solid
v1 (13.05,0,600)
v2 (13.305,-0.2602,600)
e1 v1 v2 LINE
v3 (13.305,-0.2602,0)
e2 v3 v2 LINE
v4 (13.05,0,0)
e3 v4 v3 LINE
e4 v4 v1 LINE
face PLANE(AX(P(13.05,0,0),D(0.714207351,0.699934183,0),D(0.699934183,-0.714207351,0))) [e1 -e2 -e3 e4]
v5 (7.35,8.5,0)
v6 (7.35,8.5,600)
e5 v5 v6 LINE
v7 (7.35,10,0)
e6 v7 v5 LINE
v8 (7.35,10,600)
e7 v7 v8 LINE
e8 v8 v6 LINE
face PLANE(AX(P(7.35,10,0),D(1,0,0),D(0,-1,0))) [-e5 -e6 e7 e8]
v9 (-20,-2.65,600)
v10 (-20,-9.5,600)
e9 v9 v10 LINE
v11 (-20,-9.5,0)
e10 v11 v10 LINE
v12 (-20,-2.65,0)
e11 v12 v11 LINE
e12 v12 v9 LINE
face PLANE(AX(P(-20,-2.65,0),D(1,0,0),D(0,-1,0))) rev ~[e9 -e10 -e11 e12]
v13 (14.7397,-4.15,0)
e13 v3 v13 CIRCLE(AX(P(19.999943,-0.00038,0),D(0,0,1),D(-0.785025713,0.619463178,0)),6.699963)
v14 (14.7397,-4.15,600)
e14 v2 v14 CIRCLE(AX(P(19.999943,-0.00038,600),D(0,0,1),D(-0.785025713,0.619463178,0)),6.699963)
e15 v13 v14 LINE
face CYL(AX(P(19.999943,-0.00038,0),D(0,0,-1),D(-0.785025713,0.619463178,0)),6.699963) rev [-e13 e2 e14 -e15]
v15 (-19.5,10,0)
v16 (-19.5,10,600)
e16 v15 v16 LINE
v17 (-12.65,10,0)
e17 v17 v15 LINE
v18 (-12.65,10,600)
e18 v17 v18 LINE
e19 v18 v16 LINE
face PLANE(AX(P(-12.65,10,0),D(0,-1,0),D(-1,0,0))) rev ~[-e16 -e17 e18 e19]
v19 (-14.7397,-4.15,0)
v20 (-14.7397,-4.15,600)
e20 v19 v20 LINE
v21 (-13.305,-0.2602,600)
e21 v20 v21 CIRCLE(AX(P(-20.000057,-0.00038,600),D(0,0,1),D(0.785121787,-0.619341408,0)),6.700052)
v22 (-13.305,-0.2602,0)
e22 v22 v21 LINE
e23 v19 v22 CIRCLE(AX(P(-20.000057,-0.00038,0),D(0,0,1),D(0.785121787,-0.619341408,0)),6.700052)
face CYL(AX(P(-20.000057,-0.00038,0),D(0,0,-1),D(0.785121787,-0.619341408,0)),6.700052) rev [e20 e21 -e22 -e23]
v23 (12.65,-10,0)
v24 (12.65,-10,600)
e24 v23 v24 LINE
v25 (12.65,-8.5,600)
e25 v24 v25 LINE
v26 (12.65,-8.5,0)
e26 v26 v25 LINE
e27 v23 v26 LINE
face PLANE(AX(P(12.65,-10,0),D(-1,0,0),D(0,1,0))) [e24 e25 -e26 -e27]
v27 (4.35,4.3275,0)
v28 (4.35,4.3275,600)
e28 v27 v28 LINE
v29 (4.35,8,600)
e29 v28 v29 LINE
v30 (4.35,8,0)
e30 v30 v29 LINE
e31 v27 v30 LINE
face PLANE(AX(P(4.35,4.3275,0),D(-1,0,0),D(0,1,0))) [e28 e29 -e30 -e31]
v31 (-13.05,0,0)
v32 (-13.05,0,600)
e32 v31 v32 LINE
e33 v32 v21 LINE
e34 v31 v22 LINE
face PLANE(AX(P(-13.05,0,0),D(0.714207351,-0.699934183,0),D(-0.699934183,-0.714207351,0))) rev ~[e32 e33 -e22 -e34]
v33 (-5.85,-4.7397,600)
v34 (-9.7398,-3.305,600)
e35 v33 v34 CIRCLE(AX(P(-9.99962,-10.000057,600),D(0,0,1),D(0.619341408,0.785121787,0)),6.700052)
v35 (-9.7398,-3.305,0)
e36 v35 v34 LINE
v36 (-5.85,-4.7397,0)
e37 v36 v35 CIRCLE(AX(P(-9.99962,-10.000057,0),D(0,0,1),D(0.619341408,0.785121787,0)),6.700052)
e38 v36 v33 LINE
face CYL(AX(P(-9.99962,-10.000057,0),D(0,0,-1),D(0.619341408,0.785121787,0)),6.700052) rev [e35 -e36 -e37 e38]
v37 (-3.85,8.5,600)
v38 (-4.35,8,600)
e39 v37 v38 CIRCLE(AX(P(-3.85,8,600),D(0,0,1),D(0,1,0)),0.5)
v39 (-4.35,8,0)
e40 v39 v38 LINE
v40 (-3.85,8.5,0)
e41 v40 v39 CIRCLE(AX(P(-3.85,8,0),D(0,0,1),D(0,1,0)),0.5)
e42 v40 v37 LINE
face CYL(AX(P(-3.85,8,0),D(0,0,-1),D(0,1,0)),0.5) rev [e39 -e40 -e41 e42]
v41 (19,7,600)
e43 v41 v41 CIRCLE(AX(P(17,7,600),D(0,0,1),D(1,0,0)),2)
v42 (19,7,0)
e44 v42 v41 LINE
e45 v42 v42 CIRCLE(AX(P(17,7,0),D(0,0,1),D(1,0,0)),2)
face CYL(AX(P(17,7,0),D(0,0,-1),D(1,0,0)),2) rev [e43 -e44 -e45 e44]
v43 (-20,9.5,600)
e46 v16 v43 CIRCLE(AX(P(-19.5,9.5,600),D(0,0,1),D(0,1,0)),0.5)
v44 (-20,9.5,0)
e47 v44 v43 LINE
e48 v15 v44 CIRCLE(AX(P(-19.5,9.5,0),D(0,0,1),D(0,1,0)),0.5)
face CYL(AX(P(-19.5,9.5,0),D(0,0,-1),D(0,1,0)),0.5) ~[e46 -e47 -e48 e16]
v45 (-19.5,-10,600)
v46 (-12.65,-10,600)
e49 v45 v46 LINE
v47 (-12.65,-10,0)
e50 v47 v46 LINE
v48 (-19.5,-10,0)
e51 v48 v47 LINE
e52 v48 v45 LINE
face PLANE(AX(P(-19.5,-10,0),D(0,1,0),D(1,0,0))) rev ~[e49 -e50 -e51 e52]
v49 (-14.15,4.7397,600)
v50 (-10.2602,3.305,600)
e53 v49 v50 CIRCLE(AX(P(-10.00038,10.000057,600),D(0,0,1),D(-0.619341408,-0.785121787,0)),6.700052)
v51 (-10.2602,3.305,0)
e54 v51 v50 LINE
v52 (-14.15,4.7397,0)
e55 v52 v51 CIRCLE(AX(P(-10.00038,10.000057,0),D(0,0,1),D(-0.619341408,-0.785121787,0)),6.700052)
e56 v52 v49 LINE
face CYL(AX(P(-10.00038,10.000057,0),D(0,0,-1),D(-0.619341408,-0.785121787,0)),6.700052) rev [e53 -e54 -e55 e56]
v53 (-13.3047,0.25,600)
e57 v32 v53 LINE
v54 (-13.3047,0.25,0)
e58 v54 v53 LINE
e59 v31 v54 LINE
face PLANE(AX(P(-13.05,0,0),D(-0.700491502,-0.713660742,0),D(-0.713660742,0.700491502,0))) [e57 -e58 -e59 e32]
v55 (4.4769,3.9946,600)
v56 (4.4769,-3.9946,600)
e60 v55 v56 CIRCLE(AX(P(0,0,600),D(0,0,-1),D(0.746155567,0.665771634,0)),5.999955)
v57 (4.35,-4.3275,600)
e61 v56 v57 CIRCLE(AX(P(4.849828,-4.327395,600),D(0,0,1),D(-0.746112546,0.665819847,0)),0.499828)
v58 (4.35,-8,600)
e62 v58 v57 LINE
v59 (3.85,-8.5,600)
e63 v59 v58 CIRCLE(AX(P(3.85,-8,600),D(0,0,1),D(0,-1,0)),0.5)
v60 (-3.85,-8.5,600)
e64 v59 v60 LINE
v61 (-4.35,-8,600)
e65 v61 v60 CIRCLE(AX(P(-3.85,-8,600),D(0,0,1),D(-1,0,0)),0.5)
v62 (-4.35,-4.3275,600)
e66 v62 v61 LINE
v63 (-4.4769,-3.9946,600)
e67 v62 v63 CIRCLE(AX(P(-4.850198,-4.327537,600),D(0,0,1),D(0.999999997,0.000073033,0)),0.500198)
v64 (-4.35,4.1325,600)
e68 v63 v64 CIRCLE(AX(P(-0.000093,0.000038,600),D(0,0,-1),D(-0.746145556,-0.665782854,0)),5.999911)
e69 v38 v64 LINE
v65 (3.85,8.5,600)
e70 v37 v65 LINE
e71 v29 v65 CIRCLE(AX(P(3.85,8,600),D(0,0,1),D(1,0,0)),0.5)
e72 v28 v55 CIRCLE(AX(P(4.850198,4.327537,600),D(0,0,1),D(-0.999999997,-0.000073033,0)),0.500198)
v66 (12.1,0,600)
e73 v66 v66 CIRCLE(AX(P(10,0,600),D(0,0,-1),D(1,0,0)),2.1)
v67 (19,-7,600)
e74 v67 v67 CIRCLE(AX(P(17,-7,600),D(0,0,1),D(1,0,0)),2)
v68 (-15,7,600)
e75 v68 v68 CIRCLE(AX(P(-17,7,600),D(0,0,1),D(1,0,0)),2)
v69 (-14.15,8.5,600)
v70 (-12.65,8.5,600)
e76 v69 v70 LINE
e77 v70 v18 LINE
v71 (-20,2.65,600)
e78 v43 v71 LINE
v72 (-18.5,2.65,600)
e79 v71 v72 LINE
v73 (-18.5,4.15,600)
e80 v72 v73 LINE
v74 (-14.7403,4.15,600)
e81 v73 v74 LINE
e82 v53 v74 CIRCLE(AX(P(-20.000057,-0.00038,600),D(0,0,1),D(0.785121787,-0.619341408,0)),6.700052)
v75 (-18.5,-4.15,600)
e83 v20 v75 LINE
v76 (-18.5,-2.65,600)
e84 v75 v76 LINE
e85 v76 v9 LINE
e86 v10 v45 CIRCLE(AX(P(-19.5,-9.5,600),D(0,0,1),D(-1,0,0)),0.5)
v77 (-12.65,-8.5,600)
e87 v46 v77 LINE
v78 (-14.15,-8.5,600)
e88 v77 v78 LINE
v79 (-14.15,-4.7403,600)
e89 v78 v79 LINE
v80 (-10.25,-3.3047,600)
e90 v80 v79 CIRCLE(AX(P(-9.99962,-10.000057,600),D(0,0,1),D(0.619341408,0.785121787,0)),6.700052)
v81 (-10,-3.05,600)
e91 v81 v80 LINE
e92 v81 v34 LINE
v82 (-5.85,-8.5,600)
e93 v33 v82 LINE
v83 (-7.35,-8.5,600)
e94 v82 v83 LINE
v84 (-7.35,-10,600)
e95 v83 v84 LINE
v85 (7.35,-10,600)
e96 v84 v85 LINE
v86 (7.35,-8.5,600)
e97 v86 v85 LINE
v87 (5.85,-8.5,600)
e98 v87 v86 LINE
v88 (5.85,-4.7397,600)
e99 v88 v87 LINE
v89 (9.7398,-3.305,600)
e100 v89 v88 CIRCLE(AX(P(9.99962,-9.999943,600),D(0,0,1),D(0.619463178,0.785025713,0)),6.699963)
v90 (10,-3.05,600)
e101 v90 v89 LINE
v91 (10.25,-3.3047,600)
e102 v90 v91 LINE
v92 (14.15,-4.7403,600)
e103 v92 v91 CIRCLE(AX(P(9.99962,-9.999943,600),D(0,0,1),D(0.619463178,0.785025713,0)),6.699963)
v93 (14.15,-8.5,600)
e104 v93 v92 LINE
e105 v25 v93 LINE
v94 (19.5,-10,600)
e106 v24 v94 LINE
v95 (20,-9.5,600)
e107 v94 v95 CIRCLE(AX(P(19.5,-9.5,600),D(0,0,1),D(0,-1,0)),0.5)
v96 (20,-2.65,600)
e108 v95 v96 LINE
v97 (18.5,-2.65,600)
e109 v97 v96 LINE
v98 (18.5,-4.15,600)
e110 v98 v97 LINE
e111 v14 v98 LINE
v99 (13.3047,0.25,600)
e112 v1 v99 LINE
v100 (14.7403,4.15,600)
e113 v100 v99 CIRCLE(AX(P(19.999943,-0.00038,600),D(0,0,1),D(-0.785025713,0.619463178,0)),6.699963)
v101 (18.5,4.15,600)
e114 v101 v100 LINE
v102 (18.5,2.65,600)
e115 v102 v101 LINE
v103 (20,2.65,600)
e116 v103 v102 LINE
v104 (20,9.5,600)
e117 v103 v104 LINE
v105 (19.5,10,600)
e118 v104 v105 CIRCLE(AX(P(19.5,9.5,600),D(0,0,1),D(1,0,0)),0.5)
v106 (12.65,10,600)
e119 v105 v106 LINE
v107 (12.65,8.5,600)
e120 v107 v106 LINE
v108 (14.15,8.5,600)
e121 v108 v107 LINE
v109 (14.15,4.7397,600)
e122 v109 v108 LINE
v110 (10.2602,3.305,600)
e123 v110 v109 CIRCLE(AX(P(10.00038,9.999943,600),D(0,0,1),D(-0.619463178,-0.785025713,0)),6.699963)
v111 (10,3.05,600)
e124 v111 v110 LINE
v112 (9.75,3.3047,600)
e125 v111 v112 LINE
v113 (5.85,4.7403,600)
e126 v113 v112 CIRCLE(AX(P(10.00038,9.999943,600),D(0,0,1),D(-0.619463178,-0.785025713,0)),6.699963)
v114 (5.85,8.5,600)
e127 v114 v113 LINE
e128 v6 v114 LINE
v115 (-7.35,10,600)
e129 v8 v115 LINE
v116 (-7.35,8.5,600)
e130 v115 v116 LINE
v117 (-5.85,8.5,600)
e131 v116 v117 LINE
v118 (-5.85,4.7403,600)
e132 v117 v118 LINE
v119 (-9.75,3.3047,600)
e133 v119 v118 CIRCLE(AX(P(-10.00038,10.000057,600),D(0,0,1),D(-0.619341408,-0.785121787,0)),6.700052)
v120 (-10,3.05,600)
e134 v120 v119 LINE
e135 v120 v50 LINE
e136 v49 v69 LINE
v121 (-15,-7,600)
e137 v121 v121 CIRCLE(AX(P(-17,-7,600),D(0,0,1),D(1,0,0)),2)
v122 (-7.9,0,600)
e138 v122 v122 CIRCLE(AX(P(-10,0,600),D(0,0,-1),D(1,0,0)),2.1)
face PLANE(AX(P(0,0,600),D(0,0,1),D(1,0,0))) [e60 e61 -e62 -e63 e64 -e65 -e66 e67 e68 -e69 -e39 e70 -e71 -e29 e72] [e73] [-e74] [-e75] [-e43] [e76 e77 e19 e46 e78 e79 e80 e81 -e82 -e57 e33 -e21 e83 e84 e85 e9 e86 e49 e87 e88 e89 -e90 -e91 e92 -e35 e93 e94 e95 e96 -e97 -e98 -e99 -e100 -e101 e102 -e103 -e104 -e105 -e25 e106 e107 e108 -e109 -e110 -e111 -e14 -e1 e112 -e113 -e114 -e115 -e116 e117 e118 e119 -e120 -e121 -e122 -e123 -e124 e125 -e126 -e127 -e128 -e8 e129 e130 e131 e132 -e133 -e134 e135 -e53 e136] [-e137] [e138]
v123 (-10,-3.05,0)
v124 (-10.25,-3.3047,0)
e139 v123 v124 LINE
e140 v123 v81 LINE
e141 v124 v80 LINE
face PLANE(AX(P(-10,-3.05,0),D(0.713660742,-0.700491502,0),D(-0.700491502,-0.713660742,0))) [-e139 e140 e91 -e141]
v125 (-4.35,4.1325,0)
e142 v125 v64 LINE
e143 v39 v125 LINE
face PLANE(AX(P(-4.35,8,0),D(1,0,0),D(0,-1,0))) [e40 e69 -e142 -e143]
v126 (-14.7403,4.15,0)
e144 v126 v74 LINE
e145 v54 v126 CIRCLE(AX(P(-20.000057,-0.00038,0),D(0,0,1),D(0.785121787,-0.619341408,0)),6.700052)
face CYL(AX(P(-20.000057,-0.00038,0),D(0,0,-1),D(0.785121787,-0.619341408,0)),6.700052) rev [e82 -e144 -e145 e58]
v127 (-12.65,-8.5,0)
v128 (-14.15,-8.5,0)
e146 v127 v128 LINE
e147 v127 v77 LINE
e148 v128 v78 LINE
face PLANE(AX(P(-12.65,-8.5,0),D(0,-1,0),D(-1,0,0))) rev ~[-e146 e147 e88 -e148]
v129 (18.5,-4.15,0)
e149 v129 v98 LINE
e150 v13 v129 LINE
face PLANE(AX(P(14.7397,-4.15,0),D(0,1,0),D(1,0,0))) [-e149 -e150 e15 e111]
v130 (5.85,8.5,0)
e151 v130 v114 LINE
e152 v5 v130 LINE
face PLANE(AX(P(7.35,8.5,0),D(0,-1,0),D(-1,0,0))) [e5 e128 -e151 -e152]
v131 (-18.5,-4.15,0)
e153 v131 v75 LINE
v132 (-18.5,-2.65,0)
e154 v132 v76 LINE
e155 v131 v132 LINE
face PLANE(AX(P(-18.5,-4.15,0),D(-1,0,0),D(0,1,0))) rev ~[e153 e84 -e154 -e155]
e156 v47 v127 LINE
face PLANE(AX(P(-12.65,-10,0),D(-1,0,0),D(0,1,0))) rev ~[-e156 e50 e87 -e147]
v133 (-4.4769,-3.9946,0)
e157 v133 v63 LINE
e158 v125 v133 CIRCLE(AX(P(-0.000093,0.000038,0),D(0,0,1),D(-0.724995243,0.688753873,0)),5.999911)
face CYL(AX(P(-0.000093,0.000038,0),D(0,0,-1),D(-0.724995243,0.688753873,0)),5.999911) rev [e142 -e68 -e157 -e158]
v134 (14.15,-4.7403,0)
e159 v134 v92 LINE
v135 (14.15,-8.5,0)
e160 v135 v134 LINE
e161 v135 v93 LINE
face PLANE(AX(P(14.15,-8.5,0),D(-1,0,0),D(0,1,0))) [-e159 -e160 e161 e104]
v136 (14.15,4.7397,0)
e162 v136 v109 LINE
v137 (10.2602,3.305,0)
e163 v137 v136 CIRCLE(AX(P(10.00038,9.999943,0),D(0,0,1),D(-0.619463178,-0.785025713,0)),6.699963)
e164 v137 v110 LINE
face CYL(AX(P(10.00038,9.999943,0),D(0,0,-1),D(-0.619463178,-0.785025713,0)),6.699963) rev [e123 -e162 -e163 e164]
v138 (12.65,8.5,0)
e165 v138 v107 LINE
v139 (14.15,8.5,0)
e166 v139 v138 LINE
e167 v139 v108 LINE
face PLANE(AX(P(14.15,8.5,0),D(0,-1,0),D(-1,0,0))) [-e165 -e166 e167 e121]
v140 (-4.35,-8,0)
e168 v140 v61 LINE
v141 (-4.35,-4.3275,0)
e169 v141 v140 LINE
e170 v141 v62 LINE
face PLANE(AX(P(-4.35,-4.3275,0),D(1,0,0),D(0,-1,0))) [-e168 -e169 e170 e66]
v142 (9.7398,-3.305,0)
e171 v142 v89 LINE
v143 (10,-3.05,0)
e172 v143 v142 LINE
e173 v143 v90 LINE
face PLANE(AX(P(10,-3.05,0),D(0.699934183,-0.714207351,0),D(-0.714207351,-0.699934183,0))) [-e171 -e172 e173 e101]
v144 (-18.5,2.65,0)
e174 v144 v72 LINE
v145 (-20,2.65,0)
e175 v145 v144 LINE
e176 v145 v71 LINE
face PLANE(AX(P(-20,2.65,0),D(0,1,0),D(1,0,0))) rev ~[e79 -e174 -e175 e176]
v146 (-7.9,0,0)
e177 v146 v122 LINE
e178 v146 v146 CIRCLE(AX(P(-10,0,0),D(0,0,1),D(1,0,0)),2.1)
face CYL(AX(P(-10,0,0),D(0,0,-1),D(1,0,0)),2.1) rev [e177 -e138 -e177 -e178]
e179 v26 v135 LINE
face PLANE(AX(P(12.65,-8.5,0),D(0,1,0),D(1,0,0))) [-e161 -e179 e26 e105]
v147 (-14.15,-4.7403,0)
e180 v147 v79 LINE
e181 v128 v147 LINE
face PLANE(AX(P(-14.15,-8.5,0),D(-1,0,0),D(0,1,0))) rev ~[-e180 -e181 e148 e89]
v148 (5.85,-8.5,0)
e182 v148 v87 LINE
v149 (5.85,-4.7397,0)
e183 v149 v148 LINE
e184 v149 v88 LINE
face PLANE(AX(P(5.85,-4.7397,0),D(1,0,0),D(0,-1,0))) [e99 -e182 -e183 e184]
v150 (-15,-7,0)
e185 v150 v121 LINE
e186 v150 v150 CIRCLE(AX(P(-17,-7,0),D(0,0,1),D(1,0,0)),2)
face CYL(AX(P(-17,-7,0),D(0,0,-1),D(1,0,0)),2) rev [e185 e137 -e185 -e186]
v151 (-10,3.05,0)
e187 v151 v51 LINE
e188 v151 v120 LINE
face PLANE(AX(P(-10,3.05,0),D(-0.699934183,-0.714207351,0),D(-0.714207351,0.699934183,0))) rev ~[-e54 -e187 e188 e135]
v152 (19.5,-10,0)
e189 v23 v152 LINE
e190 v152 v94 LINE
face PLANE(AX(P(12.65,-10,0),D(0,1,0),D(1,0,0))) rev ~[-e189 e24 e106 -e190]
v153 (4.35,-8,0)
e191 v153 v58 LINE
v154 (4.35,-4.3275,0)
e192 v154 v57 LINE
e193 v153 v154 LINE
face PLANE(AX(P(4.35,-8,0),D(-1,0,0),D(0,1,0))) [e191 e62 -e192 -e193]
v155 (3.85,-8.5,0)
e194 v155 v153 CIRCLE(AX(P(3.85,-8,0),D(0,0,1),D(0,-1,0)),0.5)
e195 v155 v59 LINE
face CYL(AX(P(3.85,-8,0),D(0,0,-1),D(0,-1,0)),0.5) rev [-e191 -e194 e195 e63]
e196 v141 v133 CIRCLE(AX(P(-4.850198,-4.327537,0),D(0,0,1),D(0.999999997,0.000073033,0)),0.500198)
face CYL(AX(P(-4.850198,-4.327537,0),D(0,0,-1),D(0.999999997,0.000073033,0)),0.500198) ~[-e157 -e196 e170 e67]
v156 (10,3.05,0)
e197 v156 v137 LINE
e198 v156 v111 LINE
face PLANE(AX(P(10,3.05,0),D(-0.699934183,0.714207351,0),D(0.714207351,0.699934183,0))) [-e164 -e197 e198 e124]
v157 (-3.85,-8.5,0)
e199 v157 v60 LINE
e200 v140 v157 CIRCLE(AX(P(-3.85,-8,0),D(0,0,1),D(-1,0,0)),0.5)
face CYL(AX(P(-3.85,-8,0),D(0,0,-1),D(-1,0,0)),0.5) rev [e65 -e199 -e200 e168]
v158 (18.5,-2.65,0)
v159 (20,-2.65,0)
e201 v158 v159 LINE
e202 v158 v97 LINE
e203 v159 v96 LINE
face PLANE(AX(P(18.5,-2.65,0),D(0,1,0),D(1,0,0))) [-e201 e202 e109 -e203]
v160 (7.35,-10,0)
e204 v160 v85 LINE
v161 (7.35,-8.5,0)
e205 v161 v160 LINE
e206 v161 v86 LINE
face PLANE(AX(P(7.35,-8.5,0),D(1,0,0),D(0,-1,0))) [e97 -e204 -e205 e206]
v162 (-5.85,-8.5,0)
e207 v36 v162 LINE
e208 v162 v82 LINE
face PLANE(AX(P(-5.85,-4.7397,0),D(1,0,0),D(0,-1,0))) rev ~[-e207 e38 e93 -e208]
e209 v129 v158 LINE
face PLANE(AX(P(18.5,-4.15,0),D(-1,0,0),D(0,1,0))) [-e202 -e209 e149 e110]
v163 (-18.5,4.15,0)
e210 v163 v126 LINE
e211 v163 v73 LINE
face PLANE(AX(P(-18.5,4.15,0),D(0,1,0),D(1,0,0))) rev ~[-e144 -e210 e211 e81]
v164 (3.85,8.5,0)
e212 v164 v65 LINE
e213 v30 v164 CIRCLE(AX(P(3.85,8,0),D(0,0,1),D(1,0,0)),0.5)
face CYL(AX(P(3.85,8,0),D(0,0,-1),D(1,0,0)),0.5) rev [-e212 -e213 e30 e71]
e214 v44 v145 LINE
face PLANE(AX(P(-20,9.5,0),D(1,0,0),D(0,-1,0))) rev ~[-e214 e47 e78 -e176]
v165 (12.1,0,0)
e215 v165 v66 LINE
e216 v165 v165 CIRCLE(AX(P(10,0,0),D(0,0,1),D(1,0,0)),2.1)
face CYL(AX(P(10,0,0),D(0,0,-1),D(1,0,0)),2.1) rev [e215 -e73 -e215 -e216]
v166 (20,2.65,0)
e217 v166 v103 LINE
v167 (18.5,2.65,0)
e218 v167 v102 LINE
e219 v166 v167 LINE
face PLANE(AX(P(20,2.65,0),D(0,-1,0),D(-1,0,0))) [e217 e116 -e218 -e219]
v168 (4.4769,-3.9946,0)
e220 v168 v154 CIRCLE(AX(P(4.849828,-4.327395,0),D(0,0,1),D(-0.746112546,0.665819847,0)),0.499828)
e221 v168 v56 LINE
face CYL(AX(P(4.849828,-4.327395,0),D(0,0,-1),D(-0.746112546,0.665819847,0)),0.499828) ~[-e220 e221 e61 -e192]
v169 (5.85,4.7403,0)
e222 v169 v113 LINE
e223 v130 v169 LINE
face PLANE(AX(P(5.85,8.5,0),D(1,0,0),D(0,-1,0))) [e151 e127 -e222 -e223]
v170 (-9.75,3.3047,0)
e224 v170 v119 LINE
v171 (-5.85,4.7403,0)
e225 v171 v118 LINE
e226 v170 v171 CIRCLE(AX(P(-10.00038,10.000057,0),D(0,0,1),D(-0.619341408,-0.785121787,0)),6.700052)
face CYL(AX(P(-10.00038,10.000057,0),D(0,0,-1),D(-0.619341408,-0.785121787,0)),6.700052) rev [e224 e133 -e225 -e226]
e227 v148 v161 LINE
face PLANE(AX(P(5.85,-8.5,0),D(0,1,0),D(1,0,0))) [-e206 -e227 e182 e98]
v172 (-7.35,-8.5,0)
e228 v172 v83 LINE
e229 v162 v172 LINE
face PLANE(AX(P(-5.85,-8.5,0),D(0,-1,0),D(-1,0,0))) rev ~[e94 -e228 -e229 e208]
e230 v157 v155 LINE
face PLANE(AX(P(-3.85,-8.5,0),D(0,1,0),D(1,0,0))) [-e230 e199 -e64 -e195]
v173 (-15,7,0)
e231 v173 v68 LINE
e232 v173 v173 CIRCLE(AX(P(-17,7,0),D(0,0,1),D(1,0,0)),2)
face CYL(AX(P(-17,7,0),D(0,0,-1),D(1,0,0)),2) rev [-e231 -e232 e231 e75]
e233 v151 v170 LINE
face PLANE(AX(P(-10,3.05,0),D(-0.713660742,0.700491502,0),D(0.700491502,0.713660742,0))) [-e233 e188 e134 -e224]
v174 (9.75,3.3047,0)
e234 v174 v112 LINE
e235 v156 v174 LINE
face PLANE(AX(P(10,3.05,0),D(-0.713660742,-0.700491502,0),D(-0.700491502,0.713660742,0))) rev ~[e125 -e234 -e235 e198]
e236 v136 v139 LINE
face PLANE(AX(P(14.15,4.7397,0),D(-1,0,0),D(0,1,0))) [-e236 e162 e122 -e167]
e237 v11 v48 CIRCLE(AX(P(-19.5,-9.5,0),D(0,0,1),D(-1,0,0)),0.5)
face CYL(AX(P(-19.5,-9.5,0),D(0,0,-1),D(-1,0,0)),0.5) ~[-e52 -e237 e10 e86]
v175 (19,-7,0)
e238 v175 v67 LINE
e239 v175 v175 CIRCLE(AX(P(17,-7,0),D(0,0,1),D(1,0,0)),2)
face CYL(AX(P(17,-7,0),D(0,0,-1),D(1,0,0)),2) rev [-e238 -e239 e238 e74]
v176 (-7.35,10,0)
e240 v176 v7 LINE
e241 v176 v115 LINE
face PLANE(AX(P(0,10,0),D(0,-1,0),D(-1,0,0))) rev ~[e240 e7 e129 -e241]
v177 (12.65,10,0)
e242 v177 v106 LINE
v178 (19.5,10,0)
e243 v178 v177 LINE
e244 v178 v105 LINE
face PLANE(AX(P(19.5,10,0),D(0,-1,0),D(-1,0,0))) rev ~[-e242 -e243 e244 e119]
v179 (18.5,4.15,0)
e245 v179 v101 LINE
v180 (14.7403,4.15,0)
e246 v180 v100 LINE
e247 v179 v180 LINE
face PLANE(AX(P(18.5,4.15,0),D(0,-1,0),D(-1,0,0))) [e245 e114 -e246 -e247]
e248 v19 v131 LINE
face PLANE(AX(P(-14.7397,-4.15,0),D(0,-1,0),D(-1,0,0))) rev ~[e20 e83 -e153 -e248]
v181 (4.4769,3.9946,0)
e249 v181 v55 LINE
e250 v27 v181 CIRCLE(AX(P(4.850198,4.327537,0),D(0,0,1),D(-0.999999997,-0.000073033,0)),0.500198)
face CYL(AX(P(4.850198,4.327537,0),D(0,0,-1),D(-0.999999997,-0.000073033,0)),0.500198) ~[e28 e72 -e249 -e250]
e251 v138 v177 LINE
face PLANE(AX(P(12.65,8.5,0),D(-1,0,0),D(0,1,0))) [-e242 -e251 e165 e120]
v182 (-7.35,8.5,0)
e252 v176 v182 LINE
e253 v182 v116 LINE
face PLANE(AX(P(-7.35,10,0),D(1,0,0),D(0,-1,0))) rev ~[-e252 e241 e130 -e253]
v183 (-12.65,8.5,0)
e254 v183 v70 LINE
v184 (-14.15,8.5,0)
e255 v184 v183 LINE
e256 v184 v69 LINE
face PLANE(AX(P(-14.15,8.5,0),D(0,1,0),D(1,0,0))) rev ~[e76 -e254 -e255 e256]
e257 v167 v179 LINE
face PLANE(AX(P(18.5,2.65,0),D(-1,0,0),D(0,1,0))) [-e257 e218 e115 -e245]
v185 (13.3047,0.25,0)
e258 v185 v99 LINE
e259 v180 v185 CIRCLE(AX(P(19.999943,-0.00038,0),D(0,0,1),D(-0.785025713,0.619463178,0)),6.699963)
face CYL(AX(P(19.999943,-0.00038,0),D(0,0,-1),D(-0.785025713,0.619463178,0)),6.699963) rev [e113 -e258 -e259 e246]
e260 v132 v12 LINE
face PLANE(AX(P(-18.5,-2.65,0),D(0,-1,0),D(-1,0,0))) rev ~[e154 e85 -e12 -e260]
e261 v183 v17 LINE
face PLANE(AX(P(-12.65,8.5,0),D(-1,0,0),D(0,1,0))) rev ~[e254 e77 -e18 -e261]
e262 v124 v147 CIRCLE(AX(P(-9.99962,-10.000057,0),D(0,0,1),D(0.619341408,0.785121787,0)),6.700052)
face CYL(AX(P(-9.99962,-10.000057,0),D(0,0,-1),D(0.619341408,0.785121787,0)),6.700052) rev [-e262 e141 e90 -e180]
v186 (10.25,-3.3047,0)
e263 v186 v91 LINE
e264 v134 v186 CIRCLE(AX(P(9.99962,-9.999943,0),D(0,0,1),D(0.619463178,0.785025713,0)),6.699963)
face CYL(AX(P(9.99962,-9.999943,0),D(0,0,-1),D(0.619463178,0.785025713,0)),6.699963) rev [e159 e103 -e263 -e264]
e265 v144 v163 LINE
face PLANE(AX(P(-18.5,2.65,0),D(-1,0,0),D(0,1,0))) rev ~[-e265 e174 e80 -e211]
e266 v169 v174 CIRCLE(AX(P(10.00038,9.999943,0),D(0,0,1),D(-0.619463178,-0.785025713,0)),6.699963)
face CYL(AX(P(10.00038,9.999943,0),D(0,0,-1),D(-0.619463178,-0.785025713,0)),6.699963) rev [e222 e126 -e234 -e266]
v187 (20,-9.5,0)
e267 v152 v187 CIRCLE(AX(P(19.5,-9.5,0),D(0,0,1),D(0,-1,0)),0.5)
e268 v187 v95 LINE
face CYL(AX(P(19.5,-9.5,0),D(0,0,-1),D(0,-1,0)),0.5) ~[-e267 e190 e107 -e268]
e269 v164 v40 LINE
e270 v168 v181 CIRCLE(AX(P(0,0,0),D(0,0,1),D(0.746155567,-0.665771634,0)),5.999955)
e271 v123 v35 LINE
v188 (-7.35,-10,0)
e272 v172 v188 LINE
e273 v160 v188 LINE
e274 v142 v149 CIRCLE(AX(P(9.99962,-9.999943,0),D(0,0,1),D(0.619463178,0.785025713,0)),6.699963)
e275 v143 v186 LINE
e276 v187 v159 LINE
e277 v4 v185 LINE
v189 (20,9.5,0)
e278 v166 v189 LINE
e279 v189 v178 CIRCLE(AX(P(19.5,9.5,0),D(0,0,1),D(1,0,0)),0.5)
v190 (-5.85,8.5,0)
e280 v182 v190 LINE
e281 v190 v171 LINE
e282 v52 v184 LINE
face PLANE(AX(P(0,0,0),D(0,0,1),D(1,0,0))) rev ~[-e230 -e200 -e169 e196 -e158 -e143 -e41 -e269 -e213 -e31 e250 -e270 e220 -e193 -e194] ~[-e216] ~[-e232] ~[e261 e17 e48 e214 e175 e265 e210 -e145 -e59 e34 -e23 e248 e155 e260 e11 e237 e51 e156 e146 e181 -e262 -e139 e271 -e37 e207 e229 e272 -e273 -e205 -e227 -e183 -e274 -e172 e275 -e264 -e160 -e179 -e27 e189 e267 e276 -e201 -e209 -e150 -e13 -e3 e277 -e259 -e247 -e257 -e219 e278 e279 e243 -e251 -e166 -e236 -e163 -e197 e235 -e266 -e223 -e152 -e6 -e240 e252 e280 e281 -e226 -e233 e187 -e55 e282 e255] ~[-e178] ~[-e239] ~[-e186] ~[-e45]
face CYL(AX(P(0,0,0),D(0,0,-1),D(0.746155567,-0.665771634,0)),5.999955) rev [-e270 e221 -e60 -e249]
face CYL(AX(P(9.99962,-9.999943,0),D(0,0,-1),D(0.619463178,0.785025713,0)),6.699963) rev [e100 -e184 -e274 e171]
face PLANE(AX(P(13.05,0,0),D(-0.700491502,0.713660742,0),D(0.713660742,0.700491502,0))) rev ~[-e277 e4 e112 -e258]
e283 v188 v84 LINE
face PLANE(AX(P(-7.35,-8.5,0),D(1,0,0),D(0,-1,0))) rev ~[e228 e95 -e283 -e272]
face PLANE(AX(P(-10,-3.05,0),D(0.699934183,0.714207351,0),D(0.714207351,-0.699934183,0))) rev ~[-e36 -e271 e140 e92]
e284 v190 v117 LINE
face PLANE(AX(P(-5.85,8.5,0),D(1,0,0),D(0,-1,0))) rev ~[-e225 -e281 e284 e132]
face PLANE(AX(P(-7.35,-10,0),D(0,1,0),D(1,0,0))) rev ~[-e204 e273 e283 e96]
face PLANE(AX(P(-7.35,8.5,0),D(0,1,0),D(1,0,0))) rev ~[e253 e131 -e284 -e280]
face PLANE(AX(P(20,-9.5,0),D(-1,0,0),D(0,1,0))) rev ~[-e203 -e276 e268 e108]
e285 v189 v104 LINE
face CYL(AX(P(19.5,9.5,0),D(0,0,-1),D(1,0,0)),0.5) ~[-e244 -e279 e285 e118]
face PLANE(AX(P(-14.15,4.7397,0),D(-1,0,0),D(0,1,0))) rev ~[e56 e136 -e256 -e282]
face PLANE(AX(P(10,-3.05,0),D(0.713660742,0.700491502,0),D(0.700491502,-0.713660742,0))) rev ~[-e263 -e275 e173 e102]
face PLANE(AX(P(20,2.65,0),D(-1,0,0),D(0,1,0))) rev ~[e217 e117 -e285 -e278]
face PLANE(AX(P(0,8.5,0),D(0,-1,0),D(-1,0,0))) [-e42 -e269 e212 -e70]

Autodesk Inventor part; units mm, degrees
ref_plane "YZ Plane" through (0, 0, 0) normal (1, 0, 0) x (0, 1, 0)
ref_plane "XZ Plane" through (0, 0, 0) normal (0, 1, 0) x (-1, 0, 0)
ref_plane "XY Plane" through (0, 0, 0) normal (0, 0, 1) x (1, 0, 0)
sketch "스케치1" plane through (0, 0, 0) normal (0, 0, 1) x (1, 0, 0)
  line L0 (-19.5, -10) -> (19.5, -10)
  line L1 (20, -9.5) -> (20, 9.5)
  line L2 (19.5, 10) -> (-19.5, 10)
  line L3 (-20, 9.5) -> (-20, -9.5)
  circle A0 centre (-17, 7) radius 2
  line L4 (0, -12.143) -> (0, 11.1651)
  line L5 (28.9925, 0) -> (-24.8769, 0)
  circle A1 centre (-10, 0) radius 2.1
  line L6 (-10, 12.7543) -> (-10, -12.5913)
  line L7 (10, -12.5913) -> (10, 12.7543)
  circle A2 centre (10, 0) radius 2.1
  line L8 (-12.65, -10) -> (-12.65, -8.5)
  line L9 (-12.65, -8.5) -> (-14.15, -8.5)
  line L10 (-14.15, -8.5) -> (-14.15, -4.7403)
  line L11 (-5.85, -4.7397) -> (-5.85, -8.5)
  line L12 (-5.85, -8.5) -> (-7.35, -8.5)
  line L13 (-7.35, -8.5) -> (-7.35, -10)
  arc A3 (-5.85, -4.7397) -> (-14.15, -4.7403) centre (-9.9996, -10) ccw
  line L14 (-10, -3.05) -> (-10.25, -3.3047)
  line L15 (-10, -3.05) -> (-9.7398, -3.305)
  line L16 (12.65, -10) -> (12.65, -8.5)
  line L17 (12.65, -8.5) -> (14.15, -8.5)
  line L18 (14.15, -8.5) -> (14.15, -4.7403)
  line L19 (5.85, -4.7397) -> (5.85, -8.5)
  line L20 (5.85, -8.5) -> (7.35, -8.5)
  line L21 (7.35, -8.5) -> (7.35, -10)
  arc A4 (14.15, -4.7403) -> (5.85, -4.7397) centre (9.9996, -10) ccw
  line L22 (10, -3.05) -> (10.25, -3.3047)
  line L23 (10, -3.05) -> (9.7398, -3.305)
  line L24 (-20, 2.65) -> (-18.5, 2.65)
  line L25 (-18.5, 2.65) -> (-18.5, 4.15)
  line L26 (-18.5, 4.15) -> (-14.7403, 4.15)
  line L27 (-14.7397, -4.15) -> (-18.5, -4.15)
  line L28 (-18.5, -4.15) -> (-18.5, -2.65)
  line L29 (-18.5, -2.65) -> (-20, -2.65)
  line L30 (-13.05, 0) -> (-13.305, -0.2602)
  line L31 (-13.05, 0) -> (-13.3047, 0.25)
  arc A5 (-14.7397, -4.15) -> (-14.7403, 4.15) centre (-20, -0.0004) ccw
  line L32 (-7.35, 10) -> (-7.35, 8.5)
  line L33 (-7.35, 8.5) -> (-5.85, 8.5)
  line L34 (-5.85, 8.5) -> (-5.85, 4.7403)
  line L35 (-14.15, 4.7397) -> (-14.15, 8.5)
  line L36 (-14.15, 8.5) -> (-12.65, 8.5)
  line L37 (-12.65, 8.5) -> (-12.65, 10)
  line L38 (-10, 3.05) -> (-10.2602, 3.305)
  line L39 (-10, 3.05) -> (-9.75, 3.3047)
  arc A6 (-14.15, 4.7397) -> (-5.85, 4.7403) centre (-10.0004, 10) ccw
  line L40 (14.7397, -4.15) -> (18.5, -4.15)
  line L41 (18.5, -4.15) -> (18.5, -2.65)
  line L42 (18.5, -2.65) -> (20, -2.65)
  arc A7 (14.7403, 4.15) -> (14.7397, -4.15) centre (20, -0.0004) ccw
  line L43 (20, 2.65) -> (18.5, 2.65)
  line L44 (18.5, 2.65) -> (18.5, 4.15)
  line L45 (18.5, 4.15) -> (14.7403, 4.15)
  line L46 (13.05, 0) -> (13.305, -0.2602)
  line L47 (13.05, 0) -> (13.3047, 0.25)
  line L48 (14.15, 4.7397) -> (14.15, 8.5)
  line L49 (14.15, 8.5) -> (12.65, 8.5)
  line L50 (12.65, 8.5) -> (12.65, 10)
  arc A8 (5.85, 4.7403) -> (14.15, 4.7397) centre (10.0004, 10) ccw
  line L51 (7.35, 10) -> (7.35, 8.5)
  line L52 (7.35, 8.5) -> (5.85, 8.5)
  line L53 (5.85, 8.5) -> (5.85, 4.7403)
  line L54 (10, 3.05) -> (10.2602, 3.305)
  line L55 (10, 3.05) -> (9.75, 3.3047)
  circle A9 centre (-17, -7) radius 2
  circle A10 centre (17, 7) radius 2
  circle A11 centre (17, -7) radius 2
  line L56 (-3.85, -8.5) -> (3.85, -8.5)
  line L57 (3.85, 8.5) -> (-3.85, 8.5)
  line L58 (-4.35, -8.5) -> (4.35, 8.5) construction
  line L59 (4.35, -8.5) -> (-4.35, 8.5) construction
  arc A12 (-3.85, 8.5) -> (-4.35, 8) centre (-3.85, 8) ccw
  arc A13 (4.35, 8) -> (3.85, 8.5) centre (3.85, 8) ccw
  arc A14 (3.85, -8.5) -> (4.35, -8) centre (3.85, -8) ccw
  arc A15 (-4.35, -8) -> (-3.85, -8.5) centre (-3.85, -8) ccw
  line L60 (-4.35, 8) -> (-4.35, 4.1325)
  line L61 (-4.35, -4.3275) -> (-4.35, -8)
  line L62 (4.35, -8) -> (4.35, -4.3275)
  line L63 (4.35, 4.3275) -> (4.35, 8)
  arc A16 (4.4769, -3.9946) -> (4.4769, 3.9946) centre (0, 0) ccw
  arc A17 (-4.35, 4.1325) -> (-4.4769, -3.9946) centre (0, 0) ccw
  arc A18 (-4.35, -4.3275) -> (-4.4769, -3.9946) centre (-4.85, -4.3275) ccw
  arc A19 (4.35, 4.3275) -> (4.4769, 3.9946) centre (4.85, 4.3275) ccw
  arc A20 (4.4769, -3.9946) -> (4.35, -4.3275) centre (4.85, -4.3275) ccw
  arc A21 (-19.5, 10) -> (-20, 9.5) centre (-19.5, 9.5) ccw
  arc A22 (-20, -9.5) -> (-19.5, -10) centre (-19.5, -9.5) ccw
  arc A23 (19.5, -10) -> (20, -9.5) centre (19.5, -9.5) ccw
  arc A24 (20, 9.5) -> (19.5, 10) centre (19.5, 9.5) ccw
  point P0 (20, 10)
  point P1 (20, -10)
  point P2 (-20, 10)
  point P3 (-14.15, -6.6202)
  point P4 (-12.65, -9.25)
  point P5 (-10.0001, -3.3)
  point P6 (14.15, -6.6202)
  point P7 (12.65, -9.25)
  point P8 (10.0001, -3.3)
  point P9 (-19.25, 2.65)
  point P10 (-16.6202, 4.15)
  point P11 (-13.3, 0.0001)
  point P12 (-7.35, 9.25)
  point P13 (-5.85, 6.6202)
  point P14 (-9.9999, 3.3)
  point P15 (13.3, 0.0001)
  point P16 (19.25, 2.65)
  point P17 (16.6202, 4.15)
  point P18 (22.5913, 0)
  point P19 (9.9999, 3.3)
  point P20 (7.35, 9.25)
  point P21 (5.85, 6.6202)
  point P22 (10, 12.5913)
  point P23 (-5.85, -6.6199)
  point P24 (-4.35, -4.1325)
  point P25 (4.35, -4.1325)
  point P26 (4.35, 4.1325)
  point P27 (4.35, 6.1638)
  point P28 (-4.35, 6.0662)
  dimension "d0" = 40
  dimension "d1" = 20
  dimension "d2" = 4
  dimension "d3" = 34
  dimension "d4" = 14
  dimension "d5" = 4.2
  dimension "d6" = 20
  dimension "d8" = 4.2
  dimension "d9" = 20
  dimension "d12" = 1.5
  dimension "d13" = 6.7
  dimension "d14" = 8.3
  dimension "d15" = 5.3
  dimension "d16" = 5.3
  dimension "d17" = 8.3
  dimension "d18" = 6.7
  dimension "d19" = 0.5
  dimension "d20" = 0.25
  dimension "d23" = 180
  dimension "d27" = 180
  dimension "d29" = 1.5
  dimension "d31" = 1.5
  dimension "d32" = 0.5
  dimension "d33" = 0.5
  dimension "d34" = 0.5
  dimension "d35" = 8.7
extrude "돌출1" add sketch "스케치1" along normal blind 600 contours A22 L3 L29 L28 L27 A5 L30 L5 A1 L6 L14 A3 L10 L9 L8 L0 | L13 L12 L11 A3 L15 L6 A1 L5 A17 A18 L61 A15 L56 L4 L0 | L4 L56 A14 L62 A20 A16 L5 A2 L7 L23 A4 L19 L20 L21 L0 | L3 A21 L2 L37 L36 L35 A6 L38 L6 A1 L5 L31 A5 L26 L25 L24 | A1 L6 L39 A6 L34 L33 L32 L2 L4 L57 A12 L60 A17 L5 | L16 L17 L18 A4 L22 L7 A2 L5 L46 A7 L40 L41 L42 L1 A23 L0 | L4 L2 L51 L52 L53 A8 L55 L7 A2 L5 A16 A19 L63 A13 L57 | L7 L54 A8 L48 L49 L50 L2 A24 L1 L43 L44 L45 A7 L47 L5 A2
equation "\"d8\" = d5"
properties part number "600mm 20x40 profile"
